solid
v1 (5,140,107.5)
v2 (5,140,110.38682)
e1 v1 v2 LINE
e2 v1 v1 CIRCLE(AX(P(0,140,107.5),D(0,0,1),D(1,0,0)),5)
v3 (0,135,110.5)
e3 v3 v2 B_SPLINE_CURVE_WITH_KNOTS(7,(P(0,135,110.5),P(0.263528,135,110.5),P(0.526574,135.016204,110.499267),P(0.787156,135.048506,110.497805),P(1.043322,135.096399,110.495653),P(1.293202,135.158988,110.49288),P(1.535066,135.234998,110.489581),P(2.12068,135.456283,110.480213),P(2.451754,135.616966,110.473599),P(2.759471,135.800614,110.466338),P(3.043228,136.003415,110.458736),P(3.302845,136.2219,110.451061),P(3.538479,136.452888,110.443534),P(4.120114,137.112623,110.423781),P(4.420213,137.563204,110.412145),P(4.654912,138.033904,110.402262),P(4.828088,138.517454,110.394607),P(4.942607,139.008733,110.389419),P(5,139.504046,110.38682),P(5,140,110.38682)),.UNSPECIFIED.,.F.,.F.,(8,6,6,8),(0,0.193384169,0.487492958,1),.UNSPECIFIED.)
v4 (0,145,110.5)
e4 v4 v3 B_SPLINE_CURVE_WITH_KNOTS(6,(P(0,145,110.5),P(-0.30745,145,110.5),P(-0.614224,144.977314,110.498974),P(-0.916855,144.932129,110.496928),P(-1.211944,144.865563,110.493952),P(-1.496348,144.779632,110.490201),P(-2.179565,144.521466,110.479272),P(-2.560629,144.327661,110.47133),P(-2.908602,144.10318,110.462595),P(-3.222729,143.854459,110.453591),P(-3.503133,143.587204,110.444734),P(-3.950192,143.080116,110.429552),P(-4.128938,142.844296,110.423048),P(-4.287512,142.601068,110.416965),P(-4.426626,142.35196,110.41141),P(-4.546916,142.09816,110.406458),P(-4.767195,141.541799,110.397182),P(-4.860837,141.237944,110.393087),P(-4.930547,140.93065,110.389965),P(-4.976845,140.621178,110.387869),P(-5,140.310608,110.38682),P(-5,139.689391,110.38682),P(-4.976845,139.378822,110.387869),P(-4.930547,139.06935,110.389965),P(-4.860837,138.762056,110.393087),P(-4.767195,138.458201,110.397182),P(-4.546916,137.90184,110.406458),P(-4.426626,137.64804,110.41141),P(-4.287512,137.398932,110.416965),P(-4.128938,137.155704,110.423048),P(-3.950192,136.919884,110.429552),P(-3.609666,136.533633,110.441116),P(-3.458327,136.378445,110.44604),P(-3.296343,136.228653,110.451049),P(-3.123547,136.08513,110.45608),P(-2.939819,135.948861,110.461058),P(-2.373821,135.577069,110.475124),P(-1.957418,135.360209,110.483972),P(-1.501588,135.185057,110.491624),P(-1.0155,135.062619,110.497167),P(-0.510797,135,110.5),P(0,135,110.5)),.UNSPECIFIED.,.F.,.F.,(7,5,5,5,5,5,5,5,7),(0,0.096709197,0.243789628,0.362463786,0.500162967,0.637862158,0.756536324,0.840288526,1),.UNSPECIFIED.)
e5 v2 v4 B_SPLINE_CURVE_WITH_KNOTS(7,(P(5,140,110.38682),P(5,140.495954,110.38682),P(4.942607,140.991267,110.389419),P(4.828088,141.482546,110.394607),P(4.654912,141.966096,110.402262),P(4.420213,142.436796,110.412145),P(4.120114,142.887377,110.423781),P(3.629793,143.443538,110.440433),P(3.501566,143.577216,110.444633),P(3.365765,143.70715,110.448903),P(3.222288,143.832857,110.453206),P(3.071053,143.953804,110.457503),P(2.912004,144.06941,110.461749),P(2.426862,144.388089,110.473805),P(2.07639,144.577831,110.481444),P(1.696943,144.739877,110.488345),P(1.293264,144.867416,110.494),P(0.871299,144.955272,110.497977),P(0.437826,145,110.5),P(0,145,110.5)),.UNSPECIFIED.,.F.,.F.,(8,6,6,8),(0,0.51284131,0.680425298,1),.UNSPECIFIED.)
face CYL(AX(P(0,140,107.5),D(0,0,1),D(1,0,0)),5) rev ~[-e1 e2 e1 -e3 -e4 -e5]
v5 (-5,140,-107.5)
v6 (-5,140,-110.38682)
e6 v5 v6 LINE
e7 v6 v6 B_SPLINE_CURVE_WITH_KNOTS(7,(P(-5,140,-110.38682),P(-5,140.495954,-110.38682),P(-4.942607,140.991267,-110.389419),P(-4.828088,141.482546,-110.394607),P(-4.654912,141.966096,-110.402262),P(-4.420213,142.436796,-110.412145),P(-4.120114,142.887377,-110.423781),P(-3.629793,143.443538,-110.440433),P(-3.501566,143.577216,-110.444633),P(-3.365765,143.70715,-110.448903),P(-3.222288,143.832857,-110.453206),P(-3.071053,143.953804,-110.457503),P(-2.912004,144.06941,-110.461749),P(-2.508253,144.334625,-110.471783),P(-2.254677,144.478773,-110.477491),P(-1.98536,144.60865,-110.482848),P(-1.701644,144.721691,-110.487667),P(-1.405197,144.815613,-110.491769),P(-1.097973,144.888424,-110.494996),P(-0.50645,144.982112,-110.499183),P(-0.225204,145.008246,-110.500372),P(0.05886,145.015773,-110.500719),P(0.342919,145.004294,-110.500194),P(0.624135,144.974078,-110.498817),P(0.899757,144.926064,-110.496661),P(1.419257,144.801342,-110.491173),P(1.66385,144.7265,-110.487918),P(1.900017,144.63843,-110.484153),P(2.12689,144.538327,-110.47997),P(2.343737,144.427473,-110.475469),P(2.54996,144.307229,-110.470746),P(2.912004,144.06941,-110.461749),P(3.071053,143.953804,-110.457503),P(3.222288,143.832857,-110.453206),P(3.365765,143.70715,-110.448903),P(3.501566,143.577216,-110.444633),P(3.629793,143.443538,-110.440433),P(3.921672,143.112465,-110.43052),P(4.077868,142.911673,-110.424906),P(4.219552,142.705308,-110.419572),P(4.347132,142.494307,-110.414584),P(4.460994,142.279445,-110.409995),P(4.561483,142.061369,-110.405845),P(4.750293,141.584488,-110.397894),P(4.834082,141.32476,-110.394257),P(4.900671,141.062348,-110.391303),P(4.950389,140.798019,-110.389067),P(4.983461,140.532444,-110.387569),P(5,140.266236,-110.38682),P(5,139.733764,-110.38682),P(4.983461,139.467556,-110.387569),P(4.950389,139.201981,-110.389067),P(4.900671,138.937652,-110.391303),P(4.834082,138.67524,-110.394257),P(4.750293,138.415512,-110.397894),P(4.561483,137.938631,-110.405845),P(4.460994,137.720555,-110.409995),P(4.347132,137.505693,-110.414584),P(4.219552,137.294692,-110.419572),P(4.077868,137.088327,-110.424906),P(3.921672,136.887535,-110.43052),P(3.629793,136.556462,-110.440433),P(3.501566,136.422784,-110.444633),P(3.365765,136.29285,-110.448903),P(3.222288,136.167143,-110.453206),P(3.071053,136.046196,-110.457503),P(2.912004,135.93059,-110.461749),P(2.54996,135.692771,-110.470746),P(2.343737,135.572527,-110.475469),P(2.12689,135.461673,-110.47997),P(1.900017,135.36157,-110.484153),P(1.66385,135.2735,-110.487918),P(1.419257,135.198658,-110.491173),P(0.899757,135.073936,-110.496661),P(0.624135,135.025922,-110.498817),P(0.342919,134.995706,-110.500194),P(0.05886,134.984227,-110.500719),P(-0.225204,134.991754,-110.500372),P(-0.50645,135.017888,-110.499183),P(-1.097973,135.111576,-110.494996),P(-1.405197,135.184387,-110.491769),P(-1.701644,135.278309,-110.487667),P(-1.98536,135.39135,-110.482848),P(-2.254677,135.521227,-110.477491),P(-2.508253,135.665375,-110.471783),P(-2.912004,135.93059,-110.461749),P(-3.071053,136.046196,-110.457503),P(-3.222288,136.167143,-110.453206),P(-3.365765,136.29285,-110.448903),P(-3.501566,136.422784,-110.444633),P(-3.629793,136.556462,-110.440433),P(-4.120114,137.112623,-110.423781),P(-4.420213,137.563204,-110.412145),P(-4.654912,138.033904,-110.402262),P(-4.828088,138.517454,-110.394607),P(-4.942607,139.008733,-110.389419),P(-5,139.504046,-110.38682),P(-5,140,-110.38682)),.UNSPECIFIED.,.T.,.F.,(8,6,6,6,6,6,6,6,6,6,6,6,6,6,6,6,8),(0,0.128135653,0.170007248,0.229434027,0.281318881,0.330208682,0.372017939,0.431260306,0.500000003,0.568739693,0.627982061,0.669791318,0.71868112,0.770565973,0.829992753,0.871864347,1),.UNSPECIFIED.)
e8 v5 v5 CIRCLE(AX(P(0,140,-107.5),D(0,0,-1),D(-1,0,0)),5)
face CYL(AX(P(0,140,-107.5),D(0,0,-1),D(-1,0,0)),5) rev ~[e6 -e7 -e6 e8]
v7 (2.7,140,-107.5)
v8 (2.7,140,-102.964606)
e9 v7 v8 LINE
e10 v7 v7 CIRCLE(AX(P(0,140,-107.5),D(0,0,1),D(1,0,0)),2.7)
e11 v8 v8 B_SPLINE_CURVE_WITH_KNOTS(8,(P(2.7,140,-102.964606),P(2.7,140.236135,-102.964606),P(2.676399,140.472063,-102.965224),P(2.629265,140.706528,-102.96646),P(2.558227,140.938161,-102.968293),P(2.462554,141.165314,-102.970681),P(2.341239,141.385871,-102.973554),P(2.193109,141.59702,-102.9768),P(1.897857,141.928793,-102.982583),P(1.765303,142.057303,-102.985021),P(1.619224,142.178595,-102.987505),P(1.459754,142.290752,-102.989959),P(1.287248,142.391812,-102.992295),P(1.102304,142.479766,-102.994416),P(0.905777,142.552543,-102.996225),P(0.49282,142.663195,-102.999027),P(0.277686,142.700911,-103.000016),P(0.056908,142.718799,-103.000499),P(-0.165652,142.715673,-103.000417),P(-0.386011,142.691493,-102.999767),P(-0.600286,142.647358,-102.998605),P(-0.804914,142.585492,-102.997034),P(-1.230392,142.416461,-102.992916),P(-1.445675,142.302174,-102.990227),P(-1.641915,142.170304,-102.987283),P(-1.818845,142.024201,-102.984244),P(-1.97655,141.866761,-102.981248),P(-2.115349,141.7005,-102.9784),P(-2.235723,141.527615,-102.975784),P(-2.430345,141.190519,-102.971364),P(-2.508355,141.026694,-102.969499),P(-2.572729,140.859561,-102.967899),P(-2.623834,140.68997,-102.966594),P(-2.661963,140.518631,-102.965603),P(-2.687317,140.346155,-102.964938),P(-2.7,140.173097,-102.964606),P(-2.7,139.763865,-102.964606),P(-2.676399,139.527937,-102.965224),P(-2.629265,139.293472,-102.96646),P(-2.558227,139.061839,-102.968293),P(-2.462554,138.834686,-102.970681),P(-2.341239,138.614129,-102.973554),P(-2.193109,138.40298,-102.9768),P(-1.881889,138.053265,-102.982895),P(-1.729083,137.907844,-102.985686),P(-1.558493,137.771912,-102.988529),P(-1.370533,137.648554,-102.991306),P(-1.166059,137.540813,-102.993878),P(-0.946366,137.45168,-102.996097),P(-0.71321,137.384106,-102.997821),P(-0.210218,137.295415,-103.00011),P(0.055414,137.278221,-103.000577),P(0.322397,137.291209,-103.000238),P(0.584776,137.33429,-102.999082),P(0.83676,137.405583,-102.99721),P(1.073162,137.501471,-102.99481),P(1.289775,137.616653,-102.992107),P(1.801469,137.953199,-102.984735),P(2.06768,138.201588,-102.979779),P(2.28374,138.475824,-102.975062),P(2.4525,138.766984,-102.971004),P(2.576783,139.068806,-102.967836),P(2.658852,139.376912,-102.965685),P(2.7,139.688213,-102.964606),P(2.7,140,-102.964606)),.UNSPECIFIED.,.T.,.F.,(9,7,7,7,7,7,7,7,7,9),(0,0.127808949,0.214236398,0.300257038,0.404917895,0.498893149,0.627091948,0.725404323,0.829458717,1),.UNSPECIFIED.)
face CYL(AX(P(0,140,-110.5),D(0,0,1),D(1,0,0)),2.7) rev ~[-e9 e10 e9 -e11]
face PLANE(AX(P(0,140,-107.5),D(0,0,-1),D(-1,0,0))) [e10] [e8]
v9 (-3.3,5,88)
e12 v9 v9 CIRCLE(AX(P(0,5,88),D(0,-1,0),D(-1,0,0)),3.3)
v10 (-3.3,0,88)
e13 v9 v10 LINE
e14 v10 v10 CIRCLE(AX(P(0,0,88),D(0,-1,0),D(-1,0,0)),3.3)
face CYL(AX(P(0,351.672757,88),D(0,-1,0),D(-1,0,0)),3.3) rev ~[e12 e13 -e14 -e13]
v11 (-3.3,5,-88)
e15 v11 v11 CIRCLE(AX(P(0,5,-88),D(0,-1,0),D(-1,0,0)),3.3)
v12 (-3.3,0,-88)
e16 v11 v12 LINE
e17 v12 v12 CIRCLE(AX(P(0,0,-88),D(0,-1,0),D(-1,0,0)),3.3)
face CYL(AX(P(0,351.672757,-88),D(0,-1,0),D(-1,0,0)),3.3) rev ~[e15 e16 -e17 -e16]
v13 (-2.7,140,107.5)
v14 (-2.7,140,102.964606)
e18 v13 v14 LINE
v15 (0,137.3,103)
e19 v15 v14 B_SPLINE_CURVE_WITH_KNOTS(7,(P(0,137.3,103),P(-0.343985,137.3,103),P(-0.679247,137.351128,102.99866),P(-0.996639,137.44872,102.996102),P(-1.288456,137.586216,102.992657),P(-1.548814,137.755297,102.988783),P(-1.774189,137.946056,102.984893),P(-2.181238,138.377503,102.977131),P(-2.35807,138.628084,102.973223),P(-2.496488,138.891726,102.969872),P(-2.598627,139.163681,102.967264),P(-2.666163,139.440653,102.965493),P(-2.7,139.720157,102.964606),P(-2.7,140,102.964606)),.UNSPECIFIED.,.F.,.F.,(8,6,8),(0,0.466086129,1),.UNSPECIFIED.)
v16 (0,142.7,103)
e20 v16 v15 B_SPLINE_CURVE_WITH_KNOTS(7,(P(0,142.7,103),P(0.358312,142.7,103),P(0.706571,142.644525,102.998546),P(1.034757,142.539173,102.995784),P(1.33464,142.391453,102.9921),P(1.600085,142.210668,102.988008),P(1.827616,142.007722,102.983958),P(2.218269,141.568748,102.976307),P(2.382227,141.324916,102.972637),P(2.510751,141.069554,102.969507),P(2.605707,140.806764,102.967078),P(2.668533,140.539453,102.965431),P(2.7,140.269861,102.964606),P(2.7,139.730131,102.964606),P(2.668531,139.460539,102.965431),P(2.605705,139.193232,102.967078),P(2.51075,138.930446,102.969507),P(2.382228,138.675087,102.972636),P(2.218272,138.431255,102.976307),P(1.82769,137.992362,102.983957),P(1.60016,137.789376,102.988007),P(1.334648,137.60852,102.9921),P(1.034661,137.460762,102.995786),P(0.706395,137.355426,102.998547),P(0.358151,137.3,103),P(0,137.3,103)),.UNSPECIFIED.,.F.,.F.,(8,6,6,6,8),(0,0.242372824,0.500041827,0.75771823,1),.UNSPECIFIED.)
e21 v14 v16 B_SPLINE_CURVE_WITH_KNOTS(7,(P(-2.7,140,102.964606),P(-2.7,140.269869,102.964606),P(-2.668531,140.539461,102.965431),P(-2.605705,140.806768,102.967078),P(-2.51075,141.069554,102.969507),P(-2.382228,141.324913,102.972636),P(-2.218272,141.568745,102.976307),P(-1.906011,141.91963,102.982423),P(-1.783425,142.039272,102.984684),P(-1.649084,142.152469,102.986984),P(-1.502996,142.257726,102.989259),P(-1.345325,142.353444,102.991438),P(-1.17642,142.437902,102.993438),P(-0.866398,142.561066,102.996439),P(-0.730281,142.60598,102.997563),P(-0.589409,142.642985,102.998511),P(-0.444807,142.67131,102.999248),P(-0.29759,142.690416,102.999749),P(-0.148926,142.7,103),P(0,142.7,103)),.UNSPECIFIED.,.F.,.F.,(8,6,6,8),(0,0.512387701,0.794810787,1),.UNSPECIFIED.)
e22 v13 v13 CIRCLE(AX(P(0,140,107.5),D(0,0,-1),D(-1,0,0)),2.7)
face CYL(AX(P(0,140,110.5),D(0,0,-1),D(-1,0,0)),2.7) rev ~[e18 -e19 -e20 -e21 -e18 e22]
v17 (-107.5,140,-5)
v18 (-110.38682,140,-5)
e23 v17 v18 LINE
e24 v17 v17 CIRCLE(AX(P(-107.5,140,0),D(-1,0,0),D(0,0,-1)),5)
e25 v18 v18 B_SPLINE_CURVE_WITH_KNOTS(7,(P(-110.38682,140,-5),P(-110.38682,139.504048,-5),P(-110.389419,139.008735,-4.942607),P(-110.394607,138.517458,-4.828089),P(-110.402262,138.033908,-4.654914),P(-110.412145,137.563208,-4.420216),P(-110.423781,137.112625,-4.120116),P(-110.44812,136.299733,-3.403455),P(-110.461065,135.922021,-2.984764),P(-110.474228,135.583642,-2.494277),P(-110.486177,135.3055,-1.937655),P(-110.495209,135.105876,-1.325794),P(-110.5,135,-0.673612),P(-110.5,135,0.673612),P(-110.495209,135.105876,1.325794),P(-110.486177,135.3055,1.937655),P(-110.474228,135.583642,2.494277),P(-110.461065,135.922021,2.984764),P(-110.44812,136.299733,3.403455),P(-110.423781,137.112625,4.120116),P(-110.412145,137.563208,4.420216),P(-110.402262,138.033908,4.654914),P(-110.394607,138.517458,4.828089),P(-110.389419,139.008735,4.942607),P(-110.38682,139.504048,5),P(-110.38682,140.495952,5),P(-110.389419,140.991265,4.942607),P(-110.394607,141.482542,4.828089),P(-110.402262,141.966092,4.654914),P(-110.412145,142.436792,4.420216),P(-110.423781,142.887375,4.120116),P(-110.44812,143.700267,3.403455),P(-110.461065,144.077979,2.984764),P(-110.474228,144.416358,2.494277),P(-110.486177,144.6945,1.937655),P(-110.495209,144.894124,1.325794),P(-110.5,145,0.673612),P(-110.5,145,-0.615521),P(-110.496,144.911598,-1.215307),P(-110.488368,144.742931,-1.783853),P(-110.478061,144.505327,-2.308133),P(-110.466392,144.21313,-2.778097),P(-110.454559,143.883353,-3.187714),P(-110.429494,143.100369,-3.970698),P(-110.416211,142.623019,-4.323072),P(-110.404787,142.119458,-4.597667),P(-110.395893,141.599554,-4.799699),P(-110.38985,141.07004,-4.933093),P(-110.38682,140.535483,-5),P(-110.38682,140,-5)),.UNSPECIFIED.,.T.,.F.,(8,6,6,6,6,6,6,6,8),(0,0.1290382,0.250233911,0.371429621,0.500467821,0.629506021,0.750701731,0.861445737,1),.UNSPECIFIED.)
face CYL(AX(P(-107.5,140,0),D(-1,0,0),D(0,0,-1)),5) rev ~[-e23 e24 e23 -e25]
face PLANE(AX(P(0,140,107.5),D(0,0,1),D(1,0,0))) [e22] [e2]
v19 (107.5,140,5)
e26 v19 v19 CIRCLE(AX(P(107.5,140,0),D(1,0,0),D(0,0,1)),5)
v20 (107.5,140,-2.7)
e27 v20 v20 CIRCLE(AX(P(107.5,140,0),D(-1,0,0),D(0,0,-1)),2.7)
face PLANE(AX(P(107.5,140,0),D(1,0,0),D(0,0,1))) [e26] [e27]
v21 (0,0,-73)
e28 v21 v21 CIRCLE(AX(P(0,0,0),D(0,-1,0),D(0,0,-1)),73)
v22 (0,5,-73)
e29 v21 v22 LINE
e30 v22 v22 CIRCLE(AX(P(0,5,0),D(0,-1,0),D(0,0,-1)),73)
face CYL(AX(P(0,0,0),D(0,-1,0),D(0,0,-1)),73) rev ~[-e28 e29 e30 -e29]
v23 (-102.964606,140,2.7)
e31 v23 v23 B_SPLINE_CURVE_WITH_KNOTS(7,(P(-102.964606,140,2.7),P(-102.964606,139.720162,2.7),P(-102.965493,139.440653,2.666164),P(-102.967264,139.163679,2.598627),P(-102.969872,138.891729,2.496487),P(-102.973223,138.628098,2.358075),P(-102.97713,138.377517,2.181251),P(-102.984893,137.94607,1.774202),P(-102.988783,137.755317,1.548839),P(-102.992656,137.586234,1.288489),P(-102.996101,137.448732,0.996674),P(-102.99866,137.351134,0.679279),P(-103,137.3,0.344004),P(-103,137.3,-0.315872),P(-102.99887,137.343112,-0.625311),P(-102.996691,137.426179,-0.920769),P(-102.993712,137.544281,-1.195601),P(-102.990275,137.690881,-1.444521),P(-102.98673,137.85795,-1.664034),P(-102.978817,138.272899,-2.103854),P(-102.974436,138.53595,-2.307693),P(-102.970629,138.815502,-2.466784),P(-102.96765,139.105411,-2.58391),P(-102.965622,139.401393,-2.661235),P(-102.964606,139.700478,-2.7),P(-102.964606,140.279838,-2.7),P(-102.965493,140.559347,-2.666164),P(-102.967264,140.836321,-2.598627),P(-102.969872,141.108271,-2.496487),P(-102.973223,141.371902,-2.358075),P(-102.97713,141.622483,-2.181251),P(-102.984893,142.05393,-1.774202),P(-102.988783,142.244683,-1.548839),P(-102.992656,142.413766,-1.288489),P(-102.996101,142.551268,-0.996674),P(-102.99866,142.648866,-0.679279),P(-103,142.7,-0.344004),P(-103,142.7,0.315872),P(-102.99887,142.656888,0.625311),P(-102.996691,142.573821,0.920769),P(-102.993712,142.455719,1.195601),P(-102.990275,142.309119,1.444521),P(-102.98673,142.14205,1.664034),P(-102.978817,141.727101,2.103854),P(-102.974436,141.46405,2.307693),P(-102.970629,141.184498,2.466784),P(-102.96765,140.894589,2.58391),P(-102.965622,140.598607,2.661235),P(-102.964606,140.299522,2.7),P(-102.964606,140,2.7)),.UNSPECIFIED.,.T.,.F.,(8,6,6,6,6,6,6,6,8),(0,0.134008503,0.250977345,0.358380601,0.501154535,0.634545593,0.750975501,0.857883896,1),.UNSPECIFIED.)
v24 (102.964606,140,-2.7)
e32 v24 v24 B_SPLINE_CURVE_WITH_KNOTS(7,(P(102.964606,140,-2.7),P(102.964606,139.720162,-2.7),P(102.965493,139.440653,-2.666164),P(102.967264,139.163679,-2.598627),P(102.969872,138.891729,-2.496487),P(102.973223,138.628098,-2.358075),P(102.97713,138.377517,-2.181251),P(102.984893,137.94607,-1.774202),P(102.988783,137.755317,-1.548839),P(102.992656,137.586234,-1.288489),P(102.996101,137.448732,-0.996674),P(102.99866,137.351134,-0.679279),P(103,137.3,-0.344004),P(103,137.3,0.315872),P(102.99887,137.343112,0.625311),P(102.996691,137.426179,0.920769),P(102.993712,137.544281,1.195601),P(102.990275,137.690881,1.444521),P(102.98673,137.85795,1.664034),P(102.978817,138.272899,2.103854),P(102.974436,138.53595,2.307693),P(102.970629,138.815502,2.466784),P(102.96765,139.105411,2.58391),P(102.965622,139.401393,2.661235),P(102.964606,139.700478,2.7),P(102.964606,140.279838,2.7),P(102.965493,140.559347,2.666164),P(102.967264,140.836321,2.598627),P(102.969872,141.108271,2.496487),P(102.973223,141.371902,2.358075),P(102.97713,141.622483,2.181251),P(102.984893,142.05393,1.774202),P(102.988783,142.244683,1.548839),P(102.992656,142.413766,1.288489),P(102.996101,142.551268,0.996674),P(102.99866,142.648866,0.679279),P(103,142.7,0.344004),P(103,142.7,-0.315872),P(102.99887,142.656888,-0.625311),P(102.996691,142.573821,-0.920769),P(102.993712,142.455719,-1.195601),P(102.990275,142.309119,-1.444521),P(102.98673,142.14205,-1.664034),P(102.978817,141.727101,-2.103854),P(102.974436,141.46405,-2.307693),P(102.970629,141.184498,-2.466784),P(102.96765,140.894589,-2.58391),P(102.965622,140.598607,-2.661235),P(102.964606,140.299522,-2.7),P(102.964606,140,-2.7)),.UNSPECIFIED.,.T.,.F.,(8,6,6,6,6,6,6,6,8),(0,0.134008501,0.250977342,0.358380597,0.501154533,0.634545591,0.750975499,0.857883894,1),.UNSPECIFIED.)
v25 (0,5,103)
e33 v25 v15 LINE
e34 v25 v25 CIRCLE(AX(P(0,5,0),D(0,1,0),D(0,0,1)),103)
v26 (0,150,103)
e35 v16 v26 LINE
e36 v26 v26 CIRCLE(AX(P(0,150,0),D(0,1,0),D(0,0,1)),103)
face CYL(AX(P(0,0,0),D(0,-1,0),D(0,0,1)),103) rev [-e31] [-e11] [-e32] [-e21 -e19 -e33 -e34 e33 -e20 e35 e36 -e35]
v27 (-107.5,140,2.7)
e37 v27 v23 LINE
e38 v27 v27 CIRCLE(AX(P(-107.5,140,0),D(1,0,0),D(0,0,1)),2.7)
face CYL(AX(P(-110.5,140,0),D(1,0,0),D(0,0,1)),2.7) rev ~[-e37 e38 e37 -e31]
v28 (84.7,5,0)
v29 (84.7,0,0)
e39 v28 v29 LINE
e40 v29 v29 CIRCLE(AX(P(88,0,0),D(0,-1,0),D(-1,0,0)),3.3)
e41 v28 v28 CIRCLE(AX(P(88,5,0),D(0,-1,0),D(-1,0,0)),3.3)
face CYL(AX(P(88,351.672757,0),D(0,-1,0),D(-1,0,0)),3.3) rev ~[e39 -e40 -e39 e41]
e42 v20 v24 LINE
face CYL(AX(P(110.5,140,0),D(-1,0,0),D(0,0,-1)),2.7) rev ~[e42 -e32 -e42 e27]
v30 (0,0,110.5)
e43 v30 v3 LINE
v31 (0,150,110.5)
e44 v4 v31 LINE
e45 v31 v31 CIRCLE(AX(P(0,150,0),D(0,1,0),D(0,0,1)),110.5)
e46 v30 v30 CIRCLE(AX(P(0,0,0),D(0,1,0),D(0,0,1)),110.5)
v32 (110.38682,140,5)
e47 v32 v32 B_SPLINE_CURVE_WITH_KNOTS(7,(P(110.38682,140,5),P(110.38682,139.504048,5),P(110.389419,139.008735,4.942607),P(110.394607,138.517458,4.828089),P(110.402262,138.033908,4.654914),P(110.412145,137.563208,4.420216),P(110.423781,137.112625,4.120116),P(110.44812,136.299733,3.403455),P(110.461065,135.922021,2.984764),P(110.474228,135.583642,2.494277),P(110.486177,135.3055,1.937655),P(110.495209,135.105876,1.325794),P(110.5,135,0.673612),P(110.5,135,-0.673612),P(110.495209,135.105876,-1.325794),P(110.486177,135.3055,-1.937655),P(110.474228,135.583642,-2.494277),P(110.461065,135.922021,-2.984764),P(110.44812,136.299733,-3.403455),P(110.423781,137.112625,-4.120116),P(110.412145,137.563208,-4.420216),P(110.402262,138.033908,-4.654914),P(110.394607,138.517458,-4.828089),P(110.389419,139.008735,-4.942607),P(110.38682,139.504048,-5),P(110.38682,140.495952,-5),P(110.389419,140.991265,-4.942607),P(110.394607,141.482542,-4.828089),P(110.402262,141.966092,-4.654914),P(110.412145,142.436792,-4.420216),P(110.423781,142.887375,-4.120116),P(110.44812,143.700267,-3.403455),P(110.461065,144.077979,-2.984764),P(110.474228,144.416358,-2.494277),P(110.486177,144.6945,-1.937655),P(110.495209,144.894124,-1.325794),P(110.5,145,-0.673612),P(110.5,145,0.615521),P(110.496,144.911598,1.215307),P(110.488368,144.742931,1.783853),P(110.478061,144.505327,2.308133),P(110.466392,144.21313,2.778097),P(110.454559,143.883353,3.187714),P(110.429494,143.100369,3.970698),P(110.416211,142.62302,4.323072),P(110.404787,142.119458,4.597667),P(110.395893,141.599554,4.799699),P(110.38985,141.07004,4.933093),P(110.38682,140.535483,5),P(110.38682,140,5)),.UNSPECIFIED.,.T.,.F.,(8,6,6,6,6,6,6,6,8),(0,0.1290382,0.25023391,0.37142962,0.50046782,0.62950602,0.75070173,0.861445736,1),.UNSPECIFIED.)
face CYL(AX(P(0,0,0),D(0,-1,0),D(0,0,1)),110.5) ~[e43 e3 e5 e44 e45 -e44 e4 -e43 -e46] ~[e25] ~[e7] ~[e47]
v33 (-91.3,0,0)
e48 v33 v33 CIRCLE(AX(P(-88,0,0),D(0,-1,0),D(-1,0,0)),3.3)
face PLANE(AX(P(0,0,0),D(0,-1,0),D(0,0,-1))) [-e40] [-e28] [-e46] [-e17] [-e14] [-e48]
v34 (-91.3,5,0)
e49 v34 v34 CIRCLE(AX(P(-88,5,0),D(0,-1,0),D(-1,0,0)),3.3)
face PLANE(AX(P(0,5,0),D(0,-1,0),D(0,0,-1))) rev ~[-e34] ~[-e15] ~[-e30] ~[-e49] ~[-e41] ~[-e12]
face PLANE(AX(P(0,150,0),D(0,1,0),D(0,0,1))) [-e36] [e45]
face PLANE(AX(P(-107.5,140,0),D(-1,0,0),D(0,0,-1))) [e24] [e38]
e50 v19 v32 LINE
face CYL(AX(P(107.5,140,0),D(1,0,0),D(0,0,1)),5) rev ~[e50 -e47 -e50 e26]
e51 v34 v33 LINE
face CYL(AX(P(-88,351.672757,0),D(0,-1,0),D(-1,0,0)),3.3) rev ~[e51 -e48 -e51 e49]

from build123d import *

# Parameters (mm, degrees)
SCHIZZO1_R                                           = 110.5
SCHIZZO1_R_2                                         = 103
ESTRUSIONE_ESTRUSIONE1_DEPTH                         = 150
FORO_LAMATO_PER_BULLONE_M12_A_TESTA_ESAG_D           = 5.4
FORO_LAMATO_PER_BULLONE_M12_A_TESTA_ESAG_DEPTH       = 8.1
FORO_LAMATO_PER_BULLONE_M12_A_TESTA_ESAG_CBORE_D     = 10
FORO_LAMATO_PER_BULLONE_M12_A_TESTA_ESAG_CBORE_DEPTH = 3
FORO_LAMATO_PER_BULLONE_M12_A_TESTA_ESAG_TIP         = 1.622323671
FORO_LAMATO_PER_BULLONE_M12_A_TESTA_2_D              = 5.4
FORO_LAMATO_PER_BULLONE_M12_A_TESTA_2_DEPTH          = 8.1
FORO_LAMATO_PER_BULLONE_M12_A_TESTA_2_CBORE_D        = 10
FORO_LAMATO_PER_BULLONE_M12_A_TESTA_2_CBORE_DEPTH    = 3
FORO_LAMATO_PER_BULLONE_M12_A_TESTA_2_TIP            = 1.622323671
FORO_LAMATO_PER_BULLONE_M12_A_TESTA_3_D              = 5.4
FORO_LAMATO_PER_BULLONE_M12_A_TESTA_3_DEPTH          = 8.1
FORO_LAMATO_PER_BULLONE_M12_A_TESTA_3_CBORE_D        = 10
FORO_LAMATO_PER_BULLONE_M12_A_TESTA_3_CBORE_DEPTH    = 3
FORO_LAMATO_PER_BULLONE_M12_A_TESTA_3_TIP            = 1.622323671
FORO_LAMATO_PER_BULLONE_M12_A_TESTA_4_D              = 5.4
FORO_LAMATO_PER_BULLONE_M12_A_TESTA_4_DEPTH          = 8.1
FORO_LAMATO_PER_BULLONE_M12_A_TESTA_4_CBORE_D        = 10
FORO_LAMATO_PER_BULLONE_M12_A_TESTA_4_CBORE_DEPTH    = 3
FORO_LAMATO_PER_BULLONE_M12_A_TESTA_4_TIP            = 1.622323671
SCHIZZO4_R                                           = 103
SCHIZZO4_R_2                                         = 73
ESTRUSIONE_ESTRUSIONE2_DEPTH                         = 5
FORO_PER_VITE_M6_1_D                                 = 6.6


with BuildPart() as part:
    # Schizzo1 → Estrusione-Estrusione1 (new body)
    with BuildSketch(Plane(origin=(0, 0, 0), x_dir=(1, 0, 0), z_dir=(0, 1, 0))):
        with Locations(Location((0, 0, 0), (0, 0, 270))):
            Circle(SCHIZZO1_R)
        with Locations(Location((0, 0, 0), (0, 0, 270))):
            Circle(SCHIZZO1_R_2, mode=Mode.SUBTRACT)
    extrude(amount=ESTRUSIONE_ESTRUSIONE1_DEPTH)

    # Foro lamato per Bullone M12 a testa esagonale (Classe superiore)-1
    with Locations(Plane(origin=(0, 140, 110.5), x_dir=(1, 0, 0), z_dir=(0, 0, 1))):
        with Locations((0, 0)):
            CounterBoreHole(FORO_LAMATO_PER_BULLONE_M12_A_TESTA_ESAG_D / 2, FORO_LAMATO_PER_BULLONE_M12_A_TESTA_ESAG_CBORE_D / 2, FORO_LAMATO_PER_BULLONE_M12_A_TESTA_ESAG_CBORE_DEPTH, depth=FORO_LAMATO_PER_BULLONE_M12_A_TESTA_ESAG_DEPTH)
            with Locations((0, 0, -(FORO_LAMATO_PER_BULLONE_M12_A_TESTA_ESAG_DEPTH + FORO_LAMATO_PER_BULLONE_M12_A_TESTA_ESAG_TIP / 2))):  # 118° drill point
                Cone(0, FORO_LAMATO_PER_BULLONE_M12_A_TESTA_ESAG_D / 2, FORO_LAMATO_PER_BULLONE_M12_A_TESTA_ESAG_TIP, mode=Mode.SUBTRACT)

    # Foro lamato per Bullone M12 a testa  2
    with Locations(Plane(origin=(110.5, 140, 0), x_dir=(0, 0, 1), z_dir=(1, 0, 0))):
        with Locations((0, 0)):
            CounterBoreHole(FORO_LAMATO_PER_BULLONE_M12_A_TESTA_2_D / 2, FORO_LAMATO_PER_BULLONE_M12_A_TESTA_2_CBORE_D / 2, FORO_LAMATO_PER_BULLONE_M12_A_TESTA_2_CBORE_DEPTH, depth=FORO_LAMATO_PER_BULLONE_M12_A_TESTA_2_DEPTH)
            with Locations((0, 0, -(FORO_LAMATO_PER_BULLONE_M12_A_TESTA_2_DEPTH + FORO_LAMATO_PER_BULLONE_M12_A_TESTA_2_TIP / 2))):  # 118° drill point
                Cone(0, FORO_LAMATO_PER_BULLONE_M12_A_TESTA_2_D / 2, FORO_LAMATO_PER_BULLONE_M12_A_TESTA_2_TIP, mode=Mode.SUBTRACT)

    # Foro lamato per Bullone M12 a testa  3
    with Locations(Plane(origin=(0, 140, -110.5), x_dir=(-1, 0, 0), z_dir=(0, 0, -1))):
        with Locations((0, 0)):
            CounterBoreHole(FORO_LAMATO_PER_BULLONE_M12_A_TESTA_3_D / 2, FORO_LAMATO_PER_BULLONE_M12_A_TESTA_3_CBORE_D / 2, FORO_LAMATO_PER_BULLONE_M12_A_TESTA_3_CBORE_DEPTH, depth=FORO_LAMATO_PER_BULLONE_M12_A_TESTA_3_DEPTH)
            with Locations((0, 0, -(FORO_LAMATO_PER_BULLONE_M12_A_TESTA_3_DEPTH + FORO_LAMATO_PER_BULLONE_M12_A_TESTA_3_TIP / 2))):  # 118° drill point
                Cone(0, FORO_LAMATO_PER_BULLONE_M12_A_TESTA_3_D / 2, FORO_LAMATO_PER_BULLONE_M12_A_TESTA_3_TIP, mode=Mode.SUBTRACT)

    # Foro lamato per Bullone M12 a testa  4
    with Locations(Plane(origin=(-110.5, 140, 0), x_dir=(0, 0, -1), z_dir=(-1, 0, 0))):
        with Locations((0, 0)):
            CounterBoreHole(FORO_LAMATO_PER_BULLONE_M12_A_TESTA_4_D / 2, FORO_LAMATO_PER_BULLONE_M12_A_TESTA_4_CBORE_D / 2, FORO_LAMATO_PER_BULLONE_M12_A_TESTA_4_CBORE_DEPTH, depth=FORO_LAMATO_PER_BULLONE_M12_A_TESTA_4_DEPTH)
            with Locations((0, 0, -(FORO_LAMATO_PER_BULLONE_M12_A_TESTA_4_DEPTH + FORO_LAMATO_PER_BULLONE_M12_A_TESTA_4_TIP / 2))):  # 118° drill point
                Cone(0, FORO_LAMATO_PER_BULLONE_M12_A_TESTA_4_D / 2, FORO_LAMATO_PER_BULLONE_M12_A_TESTA_4_TIP, mode=Mode.SUBTRACT)

    # Schizzo4 → Estrusione-Estrusione2 (add)
    with BuildSketch(Plane.XZ):
        with Locations(Location((0, 0, 0), (0, 0, 270))):
            Circle(SCHIZZO4_R)
        with Locations(Location((0, 0, 0), (0, 0, 270))):
            Circle(SCHIZZO4_R_2, mode=Mode.SUBTRACT)
    extrude(amount=-ESTRUSIONE_ESTRUSIONE2_DEPTH)

    # Foro per Vite M6-1 (through all)
    with Locations(Plane(origin=(0, 5, 0), x_dir=(1, 0, 0), z_dir=(0, 1, 0))):
        with Locations((0, -88), (-88, 0), (88, 0), (0, 88)):
            Hole(FORO_PER_VITE_M6_1_D / 2)


solid = part.part
